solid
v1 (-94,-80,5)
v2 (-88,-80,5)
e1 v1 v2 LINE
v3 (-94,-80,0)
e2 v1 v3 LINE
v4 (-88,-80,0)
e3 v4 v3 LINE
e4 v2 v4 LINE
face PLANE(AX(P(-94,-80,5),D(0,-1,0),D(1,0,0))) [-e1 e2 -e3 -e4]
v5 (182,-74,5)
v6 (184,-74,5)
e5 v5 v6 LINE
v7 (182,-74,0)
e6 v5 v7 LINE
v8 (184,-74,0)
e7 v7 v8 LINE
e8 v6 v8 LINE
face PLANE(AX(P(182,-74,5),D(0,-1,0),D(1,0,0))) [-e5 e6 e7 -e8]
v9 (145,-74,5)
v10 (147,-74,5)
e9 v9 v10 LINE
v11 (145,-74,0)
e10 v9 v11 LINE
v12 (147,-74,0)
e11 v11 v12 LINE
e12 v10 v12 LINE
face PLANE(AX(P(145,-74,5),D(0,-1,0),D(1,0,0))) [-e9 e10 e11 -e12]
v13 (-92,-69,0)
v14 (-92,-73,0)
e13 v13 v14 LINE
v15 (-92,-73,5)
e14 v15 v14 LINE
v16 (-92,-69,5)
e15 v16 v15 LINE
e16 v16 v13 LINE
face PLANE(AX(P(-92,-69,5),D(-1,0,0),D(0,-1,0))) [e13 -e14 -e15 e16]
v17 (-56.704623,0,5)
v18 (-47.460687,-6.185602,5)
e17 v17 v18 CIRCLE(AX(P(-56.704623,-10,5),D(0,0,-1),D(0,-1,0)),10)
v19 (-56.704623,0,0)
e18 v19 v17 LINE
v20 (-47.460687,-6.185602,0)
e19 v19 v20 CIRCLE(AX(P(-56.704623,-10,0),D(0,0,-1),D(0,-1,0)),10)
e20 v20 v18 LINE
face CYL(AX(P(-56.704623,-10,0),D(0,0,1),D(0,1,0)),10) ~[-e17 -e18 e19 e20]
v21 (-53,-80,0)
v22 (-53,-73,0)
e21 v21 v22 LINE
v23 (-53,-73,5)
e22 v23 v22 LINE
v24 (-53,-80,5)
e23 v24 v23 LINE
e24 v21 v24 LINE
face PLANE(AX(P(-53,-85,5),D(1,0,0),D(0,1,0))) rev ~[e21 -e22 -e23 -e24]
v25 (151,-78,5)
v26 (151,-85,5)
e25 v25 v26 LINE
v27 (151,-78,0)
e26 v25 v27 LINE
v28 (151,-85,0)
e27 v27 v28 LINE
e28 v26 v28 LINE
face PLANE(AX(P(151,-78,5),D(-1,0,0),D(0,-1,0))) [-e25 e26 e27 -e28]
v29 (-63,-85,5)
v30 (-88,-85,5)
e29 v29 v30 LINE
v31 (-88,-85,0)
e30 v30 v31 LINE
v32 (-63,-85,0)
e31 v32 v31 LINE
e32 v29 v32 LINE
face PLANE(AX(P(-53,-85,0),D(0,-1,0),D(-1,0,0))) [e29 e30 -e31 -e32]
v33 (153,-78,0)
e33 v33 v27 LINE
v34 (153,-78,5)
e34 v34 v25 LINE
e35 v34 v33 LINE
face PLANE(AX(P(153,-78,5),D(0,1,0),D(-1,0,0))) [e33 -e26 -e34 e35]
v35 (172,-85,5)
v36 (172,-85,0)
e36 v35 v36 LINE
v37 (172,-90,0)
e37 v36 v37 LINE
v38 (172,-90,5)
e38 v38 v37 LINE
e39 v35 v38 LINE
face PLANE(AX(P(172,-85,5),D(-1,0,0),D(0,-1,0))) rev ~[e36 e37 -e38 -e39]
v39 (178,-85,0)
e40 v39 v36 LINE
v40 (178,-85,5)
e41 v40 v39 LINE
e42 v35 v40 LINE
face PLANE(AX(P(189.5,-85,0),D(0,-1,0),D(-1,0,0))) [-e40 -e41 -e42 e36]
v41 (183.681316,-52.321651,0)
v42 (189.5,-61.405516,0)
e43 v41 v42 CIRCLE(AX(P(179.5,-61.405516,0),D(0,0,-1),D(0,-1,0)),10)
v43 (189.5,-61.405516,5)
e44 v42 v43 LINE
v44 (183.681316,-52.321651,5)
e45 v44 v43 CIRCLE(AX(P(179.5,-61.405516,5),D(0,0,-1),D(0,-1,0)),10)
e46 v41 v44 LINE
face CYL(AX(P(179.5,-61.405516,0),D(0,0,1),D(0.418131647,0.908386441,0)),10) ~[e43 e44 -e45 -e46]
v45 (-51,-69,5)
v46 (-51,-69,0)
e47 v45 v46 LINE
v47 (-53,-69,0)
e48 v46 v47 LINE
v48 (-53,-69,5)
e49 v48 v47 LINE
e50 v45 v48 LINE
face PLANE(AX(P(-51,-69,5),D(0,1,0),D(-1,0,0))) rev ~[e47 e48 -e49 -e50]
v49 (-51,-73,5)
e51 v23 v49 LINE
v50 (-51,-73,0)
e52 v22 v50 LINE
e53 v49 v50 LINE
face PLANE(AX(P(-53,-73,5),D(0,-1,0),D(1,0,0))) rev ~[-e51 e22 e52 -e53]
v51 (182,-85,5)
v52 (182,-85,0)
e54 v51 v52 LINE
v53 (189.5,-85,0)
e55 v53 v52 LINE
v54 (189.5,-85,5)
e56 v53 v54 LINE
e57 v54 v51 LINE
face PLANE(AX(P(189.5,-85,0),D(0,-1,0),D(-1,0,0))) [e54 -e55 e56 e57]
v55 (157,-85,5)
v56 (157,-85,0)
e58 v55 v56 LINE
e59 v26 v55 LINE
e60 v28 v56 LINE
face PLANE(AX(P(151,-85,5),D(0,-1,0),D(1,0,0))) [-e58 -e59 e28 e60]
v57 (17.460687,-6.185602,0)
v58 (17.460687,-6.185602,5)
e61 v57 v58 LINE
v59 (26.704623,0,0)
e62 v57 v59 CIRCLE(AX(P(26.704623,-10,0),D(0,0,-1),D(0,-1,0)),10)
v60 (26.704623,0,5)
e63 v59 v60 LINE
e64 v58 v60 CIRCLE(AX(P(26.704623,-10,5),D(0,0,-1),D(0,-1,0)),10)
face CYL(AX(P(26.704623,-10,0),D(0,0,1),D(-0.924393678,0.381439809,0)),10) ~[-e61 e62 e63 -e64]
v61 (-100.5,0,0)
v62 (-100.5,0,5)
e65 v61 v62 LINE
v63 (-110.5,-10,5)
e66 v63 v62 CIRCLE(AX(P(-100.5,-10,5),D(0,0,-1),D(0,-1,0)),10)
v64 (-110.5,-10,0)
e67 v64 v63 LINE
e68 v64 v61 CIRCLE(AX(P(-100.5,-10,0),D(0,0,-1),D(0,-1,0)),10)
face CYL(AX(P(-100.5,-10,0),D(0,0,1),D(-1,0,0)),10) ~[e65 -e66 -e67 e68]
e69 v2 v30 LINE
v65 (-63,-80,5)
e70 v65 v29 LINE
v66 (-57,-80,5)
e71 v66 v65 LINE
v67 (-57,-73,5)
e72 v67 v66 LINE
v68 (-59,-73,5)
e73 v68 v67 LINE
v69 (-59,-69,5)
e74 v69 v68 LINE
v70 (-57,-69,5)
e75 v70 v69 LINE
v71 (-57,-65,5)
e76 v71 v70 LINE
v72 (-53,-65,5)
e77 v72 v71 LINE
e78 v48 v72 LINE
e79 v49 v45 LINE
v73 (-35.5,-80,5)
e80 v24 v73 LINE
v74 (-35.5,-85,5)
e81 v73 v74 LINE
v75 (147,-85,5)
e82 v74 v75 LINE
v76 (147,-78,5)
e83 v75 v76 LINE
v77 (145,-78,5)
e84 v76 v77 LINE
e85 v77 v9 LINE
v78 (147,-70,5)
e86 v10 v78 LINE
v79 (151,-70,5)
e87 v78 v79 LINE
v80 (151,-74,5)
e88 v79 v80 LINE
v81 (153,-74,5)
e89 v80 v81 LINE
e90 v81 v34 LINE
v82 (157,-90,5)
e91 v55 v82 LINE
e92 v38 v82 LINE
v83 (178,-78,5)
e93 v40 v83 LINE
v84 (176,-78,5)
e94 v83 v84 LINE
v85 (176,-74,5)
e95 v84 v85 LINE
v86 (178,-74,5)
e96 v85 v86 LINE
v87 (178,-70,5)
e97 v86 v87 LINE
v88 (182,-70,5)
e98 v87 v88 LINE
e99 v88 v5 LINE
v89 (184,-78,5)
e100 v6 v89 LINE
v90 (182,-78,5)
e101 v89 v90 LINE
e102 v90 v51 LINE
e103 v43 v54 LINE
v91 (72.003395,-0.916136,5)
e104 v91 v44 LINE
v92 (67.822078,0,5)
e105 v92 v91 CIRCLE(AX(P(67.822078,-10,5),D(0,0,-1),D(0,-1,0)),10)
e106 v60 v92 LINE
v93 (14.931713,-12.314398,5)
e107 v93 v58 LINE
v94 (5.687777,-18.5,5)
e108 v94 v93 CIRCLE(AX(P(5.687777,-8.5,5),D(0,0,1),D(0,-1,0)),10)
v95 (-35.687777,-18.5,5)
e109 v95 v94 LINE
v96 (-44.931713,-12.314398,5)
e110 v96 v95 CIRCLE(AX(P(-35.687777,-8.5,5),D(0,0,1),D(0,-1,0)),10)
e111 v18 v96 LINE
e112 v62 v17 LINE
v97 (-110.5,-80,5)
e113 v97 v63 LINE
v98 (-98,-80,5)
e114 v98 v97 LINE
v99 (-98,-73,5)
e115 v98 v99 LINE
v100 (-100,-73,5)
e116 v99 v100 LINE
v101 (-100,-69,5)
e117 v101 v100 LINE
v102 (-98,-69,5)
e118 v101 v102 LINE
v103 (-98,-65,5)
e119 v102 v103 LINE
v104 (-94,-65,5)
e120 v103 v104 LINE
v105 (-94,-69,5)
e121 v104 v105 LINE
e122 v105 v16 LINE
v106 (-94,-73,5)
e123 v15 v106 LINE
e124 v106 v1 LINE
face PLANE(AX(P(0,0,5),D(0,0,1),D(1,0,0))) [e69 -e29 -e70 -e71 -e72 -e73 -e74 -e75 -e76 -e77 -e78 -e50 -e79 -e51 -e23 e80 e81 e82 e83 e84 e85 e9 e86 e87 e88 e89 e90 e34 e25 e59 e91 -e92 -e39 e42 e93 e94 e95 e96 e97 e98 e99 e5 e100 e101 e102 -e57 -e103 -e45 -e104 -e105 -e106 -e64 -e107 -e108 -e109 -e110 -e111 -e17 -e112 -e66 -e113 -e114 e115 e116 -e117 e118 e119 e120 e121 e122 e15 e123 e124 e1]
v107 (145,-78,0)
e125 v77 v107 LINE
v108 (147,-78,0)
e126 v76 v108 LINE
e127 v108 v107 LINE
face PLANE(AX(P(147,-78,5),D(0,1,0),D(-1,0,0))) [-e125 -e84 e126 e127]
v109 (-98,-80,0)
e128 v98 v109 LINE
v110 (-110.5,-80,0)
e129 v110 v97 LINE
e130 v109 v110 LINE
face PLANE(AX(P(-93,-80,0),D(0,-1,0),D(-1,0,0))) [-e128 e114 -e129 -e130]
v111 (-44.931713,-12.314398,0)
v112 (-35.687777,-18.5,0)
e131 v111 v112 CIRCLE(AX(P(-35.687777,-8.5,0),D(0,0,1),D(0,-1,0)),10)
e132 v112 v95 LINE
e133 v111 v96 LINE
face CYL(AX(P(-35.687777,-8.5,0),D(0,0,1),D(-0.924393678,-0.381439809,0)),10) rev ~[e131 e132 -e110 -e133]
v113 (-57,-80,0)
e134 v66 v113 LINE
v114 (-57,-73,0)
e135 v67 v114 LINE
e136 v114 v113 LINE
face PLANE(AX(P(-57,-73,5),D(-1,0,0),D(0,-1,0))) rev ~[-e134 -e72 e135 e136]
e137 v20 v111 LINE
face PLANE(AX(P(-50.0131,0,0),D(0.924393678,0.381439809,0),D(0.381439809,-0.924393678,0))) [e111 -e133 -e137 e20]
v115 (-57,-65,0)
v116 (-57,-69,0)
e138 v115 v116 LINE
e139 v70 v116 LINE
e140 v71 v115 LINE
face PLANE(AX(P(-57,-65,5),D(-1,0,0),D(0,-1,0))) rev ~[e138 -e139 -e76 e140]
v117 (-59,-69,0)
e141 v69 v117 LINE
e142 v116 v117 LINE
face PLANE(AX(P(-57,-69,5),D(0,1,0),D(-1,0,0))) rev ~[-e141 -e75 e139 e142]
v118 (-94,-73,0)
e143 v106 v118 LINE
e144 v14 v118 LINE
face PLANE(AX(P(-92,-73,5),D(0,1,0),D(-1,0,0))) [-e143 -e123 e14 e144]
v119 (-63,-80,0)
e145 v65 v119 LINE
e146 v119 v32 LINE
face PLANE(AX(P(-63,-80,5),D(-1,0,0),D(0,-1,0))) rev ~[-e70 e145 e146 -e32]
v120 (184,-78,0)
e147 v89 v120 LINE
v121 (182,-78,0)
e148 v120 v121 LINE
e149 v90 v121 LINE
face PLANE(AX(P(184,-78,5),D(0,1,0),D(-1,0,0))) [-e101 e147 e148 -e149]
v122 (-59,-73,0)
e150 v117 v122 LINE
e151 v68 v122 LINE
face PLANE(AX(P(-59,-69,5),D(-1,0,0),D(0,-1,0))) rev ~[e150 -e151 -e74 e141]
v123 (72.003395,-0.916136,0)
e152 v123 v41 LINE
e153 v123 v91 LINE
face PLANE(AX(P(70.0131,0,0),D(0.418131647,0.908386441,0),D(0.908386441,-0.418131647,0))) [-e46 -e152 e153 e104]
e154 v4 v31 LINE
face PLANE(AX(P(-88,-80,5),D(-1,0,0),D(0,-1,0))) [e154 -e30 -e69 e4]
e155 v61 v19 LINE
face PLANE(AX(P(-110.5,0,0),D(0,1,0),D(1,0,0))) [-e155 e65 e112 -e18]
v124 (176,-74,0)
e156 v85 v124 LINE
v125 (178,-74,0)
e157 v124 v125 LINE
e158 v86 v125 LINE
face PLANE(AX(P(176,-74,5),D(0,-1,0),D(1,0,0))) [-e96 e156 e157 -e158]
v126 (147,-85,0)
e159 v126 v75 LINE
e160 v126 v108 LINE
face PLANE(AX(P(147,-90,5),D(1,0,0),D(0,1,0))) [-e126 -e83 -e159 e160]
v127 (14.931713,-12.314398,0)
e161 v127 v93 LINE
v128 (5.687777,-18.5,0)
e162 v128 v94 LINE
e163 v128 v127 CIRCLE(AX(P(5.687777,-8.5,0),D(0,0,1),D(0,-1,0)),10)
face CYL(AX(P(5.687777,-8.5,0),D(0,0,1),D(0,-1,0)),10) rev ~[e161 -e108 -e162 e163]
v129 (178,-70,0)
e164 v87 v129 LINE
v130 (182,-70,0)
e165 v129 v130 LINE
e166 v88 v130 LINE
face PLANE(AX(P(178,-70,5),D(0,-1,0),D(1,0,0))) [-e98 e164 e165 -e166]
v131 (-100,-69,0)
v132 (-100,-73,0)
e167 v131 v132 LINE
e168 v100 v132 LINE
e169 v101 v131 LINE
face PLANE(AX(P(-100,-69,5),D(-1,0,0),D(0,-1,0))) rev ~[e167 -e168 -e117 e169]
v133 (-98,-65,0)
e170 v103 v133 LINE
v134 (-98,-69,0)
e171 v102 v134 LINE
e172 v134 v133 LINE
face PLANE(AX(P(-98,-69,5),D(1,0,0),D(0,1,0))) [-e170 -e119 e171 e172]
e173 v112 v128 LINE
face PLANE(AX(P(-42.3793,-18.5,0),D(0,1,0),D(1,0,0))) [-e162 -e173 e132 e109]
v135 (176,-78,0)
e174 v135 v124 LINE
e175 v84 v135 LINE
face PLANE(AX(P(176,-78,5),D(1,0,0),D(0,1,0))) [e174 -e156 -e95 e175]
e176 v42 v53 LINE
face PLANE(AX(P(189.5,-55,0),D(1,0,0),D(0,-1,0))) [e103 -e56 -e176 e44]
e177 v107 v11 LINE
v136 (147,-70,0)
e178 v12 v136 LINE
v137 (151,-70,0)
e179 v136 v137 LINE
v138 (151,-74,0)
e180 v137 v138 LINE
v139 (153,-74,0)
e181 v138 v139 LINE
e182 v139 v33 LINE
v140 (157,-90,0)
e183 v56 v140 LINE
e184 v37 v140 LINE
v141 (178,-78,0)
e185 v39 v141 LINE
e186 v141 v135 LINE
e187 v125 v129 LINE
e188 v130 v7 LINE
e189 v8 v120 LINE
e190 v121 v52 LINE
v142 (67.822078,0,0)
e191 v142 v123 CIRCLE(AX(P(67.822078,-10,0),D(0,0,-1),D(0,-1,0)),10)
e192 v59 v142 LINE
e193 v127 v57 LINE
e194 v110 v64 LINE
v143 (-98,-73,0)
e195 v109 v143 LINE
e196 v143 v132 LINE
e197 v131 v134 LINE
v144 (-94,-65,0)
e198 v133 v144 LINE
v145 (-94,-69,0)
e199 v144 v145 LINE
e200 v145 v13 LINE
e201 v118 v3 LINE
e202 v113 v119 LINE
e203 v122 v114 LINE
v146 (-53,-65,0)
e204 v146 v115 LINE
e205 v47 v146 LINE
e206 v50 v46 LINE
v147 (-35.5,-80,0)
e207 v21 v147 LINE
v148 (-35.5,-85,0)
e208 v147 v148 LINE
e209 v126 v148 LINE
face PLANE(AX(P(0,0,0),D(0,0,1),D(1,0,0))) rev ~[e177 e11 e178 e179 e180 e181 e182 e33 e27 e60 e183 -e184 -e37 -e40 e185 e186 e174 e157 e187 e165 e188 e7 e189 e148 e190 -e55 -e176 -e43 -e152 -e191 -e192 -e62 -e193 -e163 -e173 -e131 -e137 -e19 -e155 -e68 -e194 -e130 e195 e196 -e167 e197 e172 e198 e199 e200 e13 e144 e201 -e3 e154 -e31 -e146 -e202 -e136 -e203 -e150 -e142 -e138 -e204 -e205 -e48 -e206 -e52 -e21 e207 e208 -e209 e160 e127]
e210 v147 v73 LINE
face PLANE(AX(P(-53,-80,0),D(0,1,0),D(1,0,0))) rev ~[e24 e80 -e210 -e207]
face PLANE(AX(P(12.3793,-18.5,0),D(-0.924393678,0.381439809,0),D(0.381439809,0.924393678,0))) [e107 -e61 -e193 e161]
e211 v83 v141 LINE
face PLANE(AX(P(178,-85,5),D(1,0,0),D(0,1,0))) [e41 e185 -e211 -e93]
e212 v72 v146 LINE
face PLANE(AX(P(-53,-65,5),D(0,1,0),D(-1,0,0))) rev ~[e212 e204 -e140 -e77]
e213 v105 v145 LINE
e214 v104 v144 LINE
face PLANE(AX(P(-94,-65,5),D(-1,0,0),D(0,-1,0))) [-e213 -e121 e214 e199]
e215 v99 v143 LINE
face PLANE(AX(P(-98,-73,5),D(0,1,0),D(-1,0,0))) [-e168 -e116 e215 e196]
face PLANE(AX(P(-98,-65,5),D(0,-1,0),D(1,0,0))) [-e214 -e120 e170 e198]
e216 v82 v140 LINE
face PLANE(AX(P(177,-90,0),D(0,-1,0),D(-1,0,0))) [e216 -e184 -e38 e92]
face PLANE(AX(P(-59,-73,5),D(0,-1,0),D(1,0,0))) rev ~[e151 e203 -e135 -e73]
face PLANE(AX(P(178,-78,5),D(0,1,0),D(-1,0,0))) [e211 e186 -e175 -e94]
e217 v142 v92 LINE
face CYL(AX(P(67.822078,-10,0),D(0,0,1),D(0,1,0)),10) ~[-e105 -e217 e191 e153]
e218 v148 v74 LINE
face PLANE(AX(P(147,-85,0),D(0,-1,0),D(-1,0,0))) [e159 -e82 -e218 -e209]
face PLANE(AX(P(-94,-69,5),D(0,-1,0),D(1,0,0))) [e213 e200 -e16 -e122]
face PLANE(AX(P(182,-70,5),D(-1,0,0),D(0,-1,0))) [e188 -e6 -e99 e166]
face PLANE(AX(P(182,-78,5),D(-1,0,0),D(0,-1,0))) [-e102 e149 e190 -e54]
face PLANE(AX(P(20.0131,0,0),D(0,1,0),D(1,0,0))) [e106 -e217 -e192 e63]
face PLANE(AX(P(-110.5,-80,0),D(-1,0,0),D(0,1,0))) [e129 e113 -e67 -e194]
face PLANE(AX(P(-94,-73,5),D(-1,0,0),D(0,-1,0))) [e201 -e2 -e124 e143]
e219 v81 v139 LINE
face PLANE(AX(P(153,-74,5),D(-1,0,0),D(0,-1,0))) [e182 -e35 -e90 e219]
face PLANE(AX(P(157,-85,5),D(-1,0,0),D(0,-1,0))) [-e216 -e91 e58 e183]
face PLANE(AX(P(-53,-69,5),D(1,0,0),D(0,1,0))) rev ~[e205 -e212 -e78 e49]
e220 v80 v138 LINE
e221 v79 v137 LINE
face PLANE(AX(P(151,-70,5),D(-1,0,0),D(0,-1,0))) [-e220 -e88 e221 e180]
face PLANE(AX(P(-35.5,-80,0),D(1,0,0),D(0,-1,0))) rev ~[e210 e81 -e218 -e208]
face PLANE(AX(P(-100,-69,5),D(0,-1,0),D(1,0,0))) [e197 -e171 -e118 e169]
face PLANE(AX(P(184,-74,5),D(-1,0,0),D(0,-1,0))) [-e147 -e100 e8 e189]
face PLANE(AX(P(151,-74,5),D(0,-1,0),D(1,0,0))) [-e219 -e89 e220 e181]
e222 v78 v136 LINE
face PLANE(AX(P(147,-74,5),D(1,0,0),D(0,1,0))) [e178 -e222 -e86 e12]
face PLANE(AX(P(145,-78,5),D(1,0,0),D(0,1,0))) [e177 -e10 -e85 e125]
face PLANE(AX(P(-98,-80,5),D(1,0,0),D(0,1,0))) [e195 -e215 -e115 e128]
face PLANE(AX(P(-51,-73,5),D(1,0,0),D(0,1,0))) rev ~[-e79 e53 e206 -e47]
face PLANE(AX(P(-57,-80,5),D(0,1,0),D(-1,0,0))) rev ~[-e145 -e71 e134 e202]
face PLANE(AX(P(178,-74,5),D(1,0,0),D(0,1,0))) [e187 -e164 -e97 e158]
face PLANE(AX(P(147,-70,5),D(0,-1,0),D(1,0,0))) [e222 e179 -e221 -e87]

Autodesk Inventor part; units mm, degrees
ref_plane "YZ Plane" through (0, 0, 0) normal (1, 0, 0) x (0, 1, 0)
ref_plane "XZ Plane" through (0, 0, 0) normal (0, 1, 0) x (-1, 0, 0)
ref_plane "XY Plane" through (0, 0, 0) normal (0, 0, 1) x (1, 0, 0)
sketch "Sketch1" plane through (0, 0, 0) normal (0, 0, 1) x (1, 0, 0)
  circle A0 centre (0, 0) radius 63.5 construction
  line L0 (0, 0) -> (-110.5, 0) construction
  line L1 (-110.5, 0) -> (-110.5, -80) construction
  line L2 (-110.5, -80) -> (-35.5, -80) construction
  line L3 (0, 0) -> (189.5, 0) construction
  line L4 (189.5, 0) -> (189.5, -85) construction
  line L5 (189.5, -85) -> (134.5, -85) construction
  line L6 (-93, -80) -> (-53, -80) construction
  line L7 (-53, -80) -> (-53, -85) construction
  line L8 (-53, -85) -> (-93, -85) construction
  line L9 (-93, -85) -> (-93, -80) construction
  line L10 (147, -85) -> (177, -85) construction
  line L11 (177, -85) -> (177, -90) construction
  line L12 (177, -90) -> (147, -90) construction
  line L13 (147, -90) -> (147, -85) construction
  circle A1 centre (0, 0) radius 18.5 construction
  line L14 (-35.5, -80) -> (134.5, -85) construction
  line L15 (0, 0) -> (0, -63.5) construction
  line L16 (-20.0131, 0) -> (0, -48.5) construction
  line L17 (20.0131, 0) -> (0, -48.5) construction
  line L18 (-53, -80) -> (-53, -85)
  line L19 (-53, -85) -> (-93, -85)
  line L20 (-93, -85) -> (-93, -80)
  line L21 (-93, -80) -> (-110.5, -80)
  line L22 (-110.5, -80) -> (-110.5, 0)
  line L23 (-110.5, 0) -> (-20.0131, 0) construction
  line L24 (-20.0131, 0) -> (0, -48.5) construction
  line L25 (0, -48.5) -> (20.0131, 0) construction
  line L26 (20.0131, 0) -> (189.5, 0) construction
  line L27 (189.5, 0) -> (189.5, -85) construction
  line L28 (189.5, -85) -> (177, -85)
  line L29 (177, -85) -> (177, -90)
  line L30 (177, -90) -> (147, -90)
  line L31 (147, -90) -> (147, -85)
  line L32 (147, -85) -> (79.5, -85)
  line L33 (-53, -80) -> (-35.5, -80)
  line L34 (-35.5, -80) -> (-35.5, -85)
  line L35 (-35.5, -85) -> (79.5, -85)
  line L36 (20.0131, 0) -> (70.0131, 0)
  line L37 (70.0131, 0) -> (189.5, -55)
  line L38 (189.5, -55) -> (189.5, -85)
  line L39 (0, -48.5) -> (-30, -48.5) construction
  line L40 (-30, -48.5) -> (-50.0131, 0) construction
  line L41 (12.3793, -18.5) -> (-42.3793, -18.5) construction
  line L42 (-110.5, 0) -> (-50.0131, 0)
  line L43 (-50.0131, 0) -> (-42.3793, -18.5)
  line L44 (-42.3793, -18.5) -> (12.3793, -18.5)
  line L45 (12.3793, -18.5) -> (20.0131, 0)
  dimension "d0" = 127
  dimension "d1" = 110.5
  dimension "d2" = 80
  dimension "d3" = 75
  dimension "d4" = 189.5
  dimension "d5" = 85
  dimension "d6" = 55
  dimension "d7" = 40
  dimension "d8" = 5
  dimension "d9" = 17.5
  dimension "d10" = 30
  dimension "d11" = 5
  dimension "d12" = 42.5
  dimension "d13" = 37
  dimension "d14" = 15
  dimension "d18" = 50
  dimension "d19" = 30
  dimension "d59" = 30
extrude "Extrusion1" add sketch "Sketch1" along normal blind 5
fillet "Fillet1" radius 10 4 edges at (-110.5, 0, 2.5) (20.0131, 0, 2.5) (70.0131, 0, 2.5) (189.5, -55, 2.5)
sketch "Sketch2" plane through (0, 0, 5) normal (0, 0, 1) x (1, 0, 0)
  circle A0 centre (0, 0) radius 63.5 construction
  line L0 (0, 0) -> (-110.5, 0) construction
  line L1 (-110.5, 0) -> (-110.5, -80) construction
  line L2 (0, 0) -> (189.5, 0) construction
  line L3 (189.5, 0) -> (189.5, -85) construction
  line L4 (-88, -80) -> (-63, -80) construction
  line L5 (-63, -80) -> (-63, -85) construction
  line L6 (-63, -85) -> (-88, -85) construction
  line L7 (-88, -85) -> (-88, -80) construction
  line L8 (157, -85) -> (172, -85) construction
  line L9 (172, -85) -> (172, -90) construction
  line L10 (172, -90) -> (157, -90) construction
  line L11 (157, -90) -> (157, -85) construction
  circle A1 centre (0, 0) radius 33.5 construction
  line L12 (-35.5, -80) -> (134.5, -85) construction
  line L13 (0, 0) -> (0, -63.5) construction
  line L14 (-40.8636, 0) -> (0, -58.5) construction
  line L15 (40.8636, 0) -> (0, -58.5) construction
  line L16 (-63, -80) -> (-63, -85) construction
  line L17 (-63, -85) -> (-88, -85) construction
  line L18 (-88, -85) -> (-88, -80) construction
  line L19 (-110.5, -80) -> (-110.5, 0) construction
  line L20 (-110.5, 0) -> (-40.8636, 0) construction
  line L21 (-40.8636, 0) -> (0, -58.5) construction
  line L22 (0, -58.5) -> (40.8636, 0) construction
  line L23 (40.8636, 0) -> (189.5, 0) construction
  line L24 (189.5, 0) -> (189.5, -85) construction
  line L25 (172, -85) -> (172, -90) construction
  line L26 (172, -90) -> (157, -90) construction
  line L27 (157, -90) -> (157, -85) construction
  line L28 (-35.5, -80) -> (-35.5, -85) construction
  line L29 (-35.5, -85) -> (94.5, -85) construction
  line L30 (40.8636, 0) -> (70.8636, 0) construction
  line L31 (70.8636, 0) -> (189.5, -55) construction
  line L32 (189.5, -55) -> (189.5, -85) construction
  line L33 (151, -85) -> (145, -85) construction
  line L34 (172, -85) -> (178, -85) construction
  line L35 (151, -85) -> (149, -85) construction
  line L36 (147, -85) -> (147, -70) construction
  line L37 (147, -70) -> (151, -70) construction
  line L38 (151, -70) -> (151, -85) construction
  line L39 (149, -70) -> (149, -85) construction
  line L40 (145, -78) -> (153, -78) construction
  line L41 (153, -78) -> (153, -74) construction
  line L42 (153, -74) -> (145, -74) construction
  line L43 (145, -74) -> (145, -78) construction
  line L44 (145, -78) -> (153, -74) construction
  line L45 (153, -78) -> (145, -74) construction
  line L46 (180, -85) -> (182, -85) construction
  line L47 (182, -85) -> (182, -70) construction
  line L48 (182, -70) -> (178, -70) construction
  line L49 (178, -70) -> (178, -85) construction
  line L50 (180, -70) -> (180, -85) construction
  line L51 (184, -78) -> (176, -78) construction
  line L52 (176, -78) -> (176, -74) construction
  line L53 (176, -74) -> (184, -74) construction
  line L54 (184, -74) -> (184, -78) construction
  line L55 (184, -78) -> (176, -74) construction
  line L56 (176, -78) -> (184, -74) construction
  line L57 (147, -85) -> (147, -78) construction
  line L58 (147, -85) -> (147, -78) construction
  line L59 (147, -78) -> (145, -78) construction
  line L60 (145, -78) -> (145, -74) construction
  line L61 (145, -74) -> (147, -74) construction
  line L62 (147, -74) -> (147, -70) construction
  line L63 (147, -70) -> (151, -70) construction
  line L64 (151, -70) -> (151, -74) construction
  line L65 (151, -74) -> (153, -74) construction
  line L66 (153, -74) -> (153, -78) construction
  line L67 (153, -78) -> (151, -78) construction
  line L68 (151, -78) -> (151, -85) construction
  line L69 (147, -85) -> (134.5, -85) construction
  line L70 (157, -85) -> (151, -85) construction
  line L71 (147, -85) -> (94.5, -85) construction
  line L72 (178, -85) -> (178, -78) construction
  line L73 (178, -78) -> (176, -78) construction
  line L74 (176, -78) -> (176, -74) construction
  line L75 (176, -74) -> (178, -74) construction
  line L76 (178, -74) -> (178, -70) construction
  line L77 (178, -70) -> (182, -70) construction
  line L78 (182, -70) -> (182, -74) construction
  line L79 (182, -74) -> (184, -74) construction
  line L80 (184, -74) -> (184, -78) construction
  line L81 (184, -78) -> (182, -78) construction
  line L82 (182, -78) -> (182, -85) construction
  line L83 (189.5, -85) -> (180, -85) construction
  line L84 (178, -85) -> (149, -85) construction
  line L85 (189.5, -85) -> (182, -85) construction
  line L86 (178, -85) -> (172, -85) construction
  line L87 (-98, -80) -> (-98, -65) construction
  line L88 (-98, -65) -> (-94, -65) construction
  line L89 (-94, -65) -> (-94, -80) construction
  line L90 (-55, -80) -> (-53, -80) construction
  line L91 (-53, -80) -> (-53, -65) construction
  line L92 (-53, -65) -> (-57, -65) construction
  line L93 (-57, -65) -> (-57, -80) construction
  line L94 (-96, -65) -> (-96, -80) construction
  line L95 (-55, -65) -> (-55, -80) construction
  line L96 (-100, -73) -> (-92, -73) construction
  line L97 (-92, -73) -> (-92, -69) construction
  line L98 (-92, -69) -> (-100, -69) construction
  line L99 (-100, -69) -> (-100, -73) construction
  line L100 (-100, -73) -> (-92, -69) construction
  line L101 (-92, -73) -> (-100, -69) construction
  line L102 (-51, -73) -> (-59, -73) construction
  line L103 (-59, -73) -> (-59, -69) construction
  line L104 (-59, -69) -> (-51, -69) construction
  line L105 (-51, -69) -> (-51, -73) construction
  line L106 (-51, -73) -> (-59, -69) construction
  line L107 (-59, -73) -> (-51, -69) construction
  line L108 (-98, -80) -> (-98, -73) construction
  line L109 (-98, -73) -> (-100, -73) construction
  line L110 (-100, -73) -> (-100, -69) construction
  line L111 (-100, -69) -> (-98, -69) construction
  line L112 (-98, -69) -> (-98, -65) construction
  line L113 (-98, -65) -> (-94, -65) construction
  line L114 (-94, -65) -> (-94, -69) construction
  line L115 (-94, -69) -> (-92, -69) construction
  line L116 (-92, -69) -> (-92, -73) construction
  line L117 (-92, -73) -> (-94, -73) construction
  line L118 (-94, -73) -> (-94, -80) construction
  line L119 (-88, -80) -> (-94, -80) construction
  line L120 (-98, -80) -> (-110.5, -80) construction
  line L121 (-57, -80) -> (-57, -73) construction
  line L122 (-57, -73) -> (-59, -73) construction
  line L123 (-59, -73) -> (-59, -69) construction
  line L124 (-59, -69) -> (-57, -69) construction
  line L125 (-57, -69) -> (-57, -65) construction
  line L126 (-57, -65) -> (-53, -65) construction
  line L127 (-53, -65) -> (-53, -69) construction
  line L128 (-53, -69) -> (-51, -69) construction
  line L129 (-51, -69) -> (-51, -73) construction
  line L130 (-51, -73) -> (-53, -73) construction
  line L131 (-53, -73) -> (-53, -80) construction
  line L132 (-110.5, -80) -> (-57, -80) construction
  line L133 (-55, -80) -> (-35.5, -80) construction
  line L134 (-63, -80) -> (-57, -80) construction
  line L135 (-53, -80) -> (-35.5, -80) construction
  line L136 (-88, -85) -> (-94, -85)
  line L137 (-94, -85) -> (-94, -80)
  line L138 (-94, -80) -> (-88, -80)
  line L139 (-88, -80) -> (-88, -85)
  line L140 (-94, -80) -> (-98, -80)
  line L141 (-98, -80) -> (-98, -73)
  line L142 (-98, -73) -> (-100, -73)
  line L143 (-100, -69) -> (-100, -73)
  line L144 (-100, -69) -> (-98, -69)
  line L145 (-98, -69) -> (-98, -65)
  line L146 (-98, -65) -> (-94, -65)
  line L147 (-94, -65) -> (-94, -69)
  line L148 (-94, -69) -> (-92, -69)
  line L149 (-92, -69) -> (-92, -73)
  line L150 (-92, -73) -> (-94, -73)
  line L151 (-94, -73) -> (-94, -80)
  line L152 (-110.5, -80) -> (-93, -80) projected
  line L153 (-63, -80) -> (-63, -85)
  line L154 (-63, -85) -> (-53, -85)
  line L155 (-53, -85) -> (-53, -73)
  line L156 (-53, -73) -> (-51, -73)
  line L157 (-51, -73) -> (-51, -69)
  line L158 (-51, -69) -> (-53, -69)
  line L159 (-53, -69) -> (-53, -65)
  line L160 (-53, -65) -> (-57, -65)
  line L161 (-57, -65) -> (-57, -69)
  line L162 (-57, -69) -> (-59, -69)
  line L163 (-59, -69) -> (-59, -73)
  line L164 (-59, -73) -> (-57, -73)
  line L165 (-57, -73) -> (-57, -80)
  line L166 (-57, -80) -> (-63, -80)
  line L167 (157, -85) -> (157, -90)
  line L168 (157, -90) -> (147, -90)
  line L169 (147, -90) -> (147, -78)
  line L170 (147, -78) -> (145, -78)
  line L171 (145, -78) -> (145, -74)
  line L172 (145, -74) -> (147, -74)
  line L173 (147, -74) -> (147, -70)
  line L174 (147, -70) -> (151, -70)
  line L175 (151, -70) -> (151, -74)
  line L176 (151, -74) -> (153, -74)
  line L177 (153, -74) -> (153, -78)
  line L178 (153, -78) -> (151, -78)
  line L179 (151, -78) -> (151, -85)
  line L180 (151, -85) -> (157, -85)
  line L181 (147, -90) -> (177, -90) projected
  line L182 (172, -90) -> (177, -90)
  line L183 (177, -90) -> (177, -85)
  line L184 (177, -85) -> (172, -85)
  line L185 (172, -85) -> (172, -90)
  line L186 (178, -85) -> (178, -78)
  line L187 (178, -78) -> (176, -78)
  line L188 (176, -78) -> (176, -74)
  line L189 (176, -74) -> (178, -74)
  line L190 (178, -74) -> (178, -70)
  line L191 (178, -70) -> (182, -70)
  line L192 (182, -70) -> (182, -74)
  line L193 (182, -74) -> (184, -74)
  line L194 (184, -74) -> (184, -78)
  line L195 (184, -78) -> (182, -78)
  line L196 (182, -78) -> (182, -85)
  line L197 (182, -85) -> (178, -85)
  point P0 (149, -76)
  point P1 (180, -76)
  point P2 (-96, -71)
  point P3 (-55, -71)
  dimension "d20" = 127
  dimension "d21" = 110.5
  dimension "d22" = 80
  dimension "d23" = 75
  dimension "d24" = 189.5
  dimension "d25" = 85
  dimension "d26" = 55
  dimension "d27" = 25
  dimension "d28" = 5
  dimension "d29" = 27.5
  dimension "d30" = 15
  dimension "d31" = 5
  dimension "d32" = 67
  dimension "d33" = 5
  dimension "d34" = 30
  dimension "d35" = 30
  dimension "d36" = 17.5
  dimension "d37" = 6
  dimension "d38" = 4
  dimension "d39" = 15
  dimension "d40" = 8
  dimension "d41" = 4
  dimension "d42" = 4
  dimension "d43" = 8
  dimension "d44" = 6
  dimension "d45" = 4
  dimension "d46" = 15
  dimension "d47" = 6
  dimension "d48" = 4
  dimension "d49" = 15
  dimension "d50" = 6
  dimension "d51" = 8
  dimension "d52" = 4
  dimension "d53" = 8
  dimension "d54" = 7
  dimension "d55" = 7
  dimension "d56" = 12.5
extrude "Extrusion2" cut sketch "Sketch2" against normal blind 5
fillet "Fillet2" radius 10 3 edges at (-50.0131, 0, 2.5) (-42.3793, -18.5, 2.5) (12.3793, -18.5, 2.5)
properties part number "Soporte_Ambu_Der"
